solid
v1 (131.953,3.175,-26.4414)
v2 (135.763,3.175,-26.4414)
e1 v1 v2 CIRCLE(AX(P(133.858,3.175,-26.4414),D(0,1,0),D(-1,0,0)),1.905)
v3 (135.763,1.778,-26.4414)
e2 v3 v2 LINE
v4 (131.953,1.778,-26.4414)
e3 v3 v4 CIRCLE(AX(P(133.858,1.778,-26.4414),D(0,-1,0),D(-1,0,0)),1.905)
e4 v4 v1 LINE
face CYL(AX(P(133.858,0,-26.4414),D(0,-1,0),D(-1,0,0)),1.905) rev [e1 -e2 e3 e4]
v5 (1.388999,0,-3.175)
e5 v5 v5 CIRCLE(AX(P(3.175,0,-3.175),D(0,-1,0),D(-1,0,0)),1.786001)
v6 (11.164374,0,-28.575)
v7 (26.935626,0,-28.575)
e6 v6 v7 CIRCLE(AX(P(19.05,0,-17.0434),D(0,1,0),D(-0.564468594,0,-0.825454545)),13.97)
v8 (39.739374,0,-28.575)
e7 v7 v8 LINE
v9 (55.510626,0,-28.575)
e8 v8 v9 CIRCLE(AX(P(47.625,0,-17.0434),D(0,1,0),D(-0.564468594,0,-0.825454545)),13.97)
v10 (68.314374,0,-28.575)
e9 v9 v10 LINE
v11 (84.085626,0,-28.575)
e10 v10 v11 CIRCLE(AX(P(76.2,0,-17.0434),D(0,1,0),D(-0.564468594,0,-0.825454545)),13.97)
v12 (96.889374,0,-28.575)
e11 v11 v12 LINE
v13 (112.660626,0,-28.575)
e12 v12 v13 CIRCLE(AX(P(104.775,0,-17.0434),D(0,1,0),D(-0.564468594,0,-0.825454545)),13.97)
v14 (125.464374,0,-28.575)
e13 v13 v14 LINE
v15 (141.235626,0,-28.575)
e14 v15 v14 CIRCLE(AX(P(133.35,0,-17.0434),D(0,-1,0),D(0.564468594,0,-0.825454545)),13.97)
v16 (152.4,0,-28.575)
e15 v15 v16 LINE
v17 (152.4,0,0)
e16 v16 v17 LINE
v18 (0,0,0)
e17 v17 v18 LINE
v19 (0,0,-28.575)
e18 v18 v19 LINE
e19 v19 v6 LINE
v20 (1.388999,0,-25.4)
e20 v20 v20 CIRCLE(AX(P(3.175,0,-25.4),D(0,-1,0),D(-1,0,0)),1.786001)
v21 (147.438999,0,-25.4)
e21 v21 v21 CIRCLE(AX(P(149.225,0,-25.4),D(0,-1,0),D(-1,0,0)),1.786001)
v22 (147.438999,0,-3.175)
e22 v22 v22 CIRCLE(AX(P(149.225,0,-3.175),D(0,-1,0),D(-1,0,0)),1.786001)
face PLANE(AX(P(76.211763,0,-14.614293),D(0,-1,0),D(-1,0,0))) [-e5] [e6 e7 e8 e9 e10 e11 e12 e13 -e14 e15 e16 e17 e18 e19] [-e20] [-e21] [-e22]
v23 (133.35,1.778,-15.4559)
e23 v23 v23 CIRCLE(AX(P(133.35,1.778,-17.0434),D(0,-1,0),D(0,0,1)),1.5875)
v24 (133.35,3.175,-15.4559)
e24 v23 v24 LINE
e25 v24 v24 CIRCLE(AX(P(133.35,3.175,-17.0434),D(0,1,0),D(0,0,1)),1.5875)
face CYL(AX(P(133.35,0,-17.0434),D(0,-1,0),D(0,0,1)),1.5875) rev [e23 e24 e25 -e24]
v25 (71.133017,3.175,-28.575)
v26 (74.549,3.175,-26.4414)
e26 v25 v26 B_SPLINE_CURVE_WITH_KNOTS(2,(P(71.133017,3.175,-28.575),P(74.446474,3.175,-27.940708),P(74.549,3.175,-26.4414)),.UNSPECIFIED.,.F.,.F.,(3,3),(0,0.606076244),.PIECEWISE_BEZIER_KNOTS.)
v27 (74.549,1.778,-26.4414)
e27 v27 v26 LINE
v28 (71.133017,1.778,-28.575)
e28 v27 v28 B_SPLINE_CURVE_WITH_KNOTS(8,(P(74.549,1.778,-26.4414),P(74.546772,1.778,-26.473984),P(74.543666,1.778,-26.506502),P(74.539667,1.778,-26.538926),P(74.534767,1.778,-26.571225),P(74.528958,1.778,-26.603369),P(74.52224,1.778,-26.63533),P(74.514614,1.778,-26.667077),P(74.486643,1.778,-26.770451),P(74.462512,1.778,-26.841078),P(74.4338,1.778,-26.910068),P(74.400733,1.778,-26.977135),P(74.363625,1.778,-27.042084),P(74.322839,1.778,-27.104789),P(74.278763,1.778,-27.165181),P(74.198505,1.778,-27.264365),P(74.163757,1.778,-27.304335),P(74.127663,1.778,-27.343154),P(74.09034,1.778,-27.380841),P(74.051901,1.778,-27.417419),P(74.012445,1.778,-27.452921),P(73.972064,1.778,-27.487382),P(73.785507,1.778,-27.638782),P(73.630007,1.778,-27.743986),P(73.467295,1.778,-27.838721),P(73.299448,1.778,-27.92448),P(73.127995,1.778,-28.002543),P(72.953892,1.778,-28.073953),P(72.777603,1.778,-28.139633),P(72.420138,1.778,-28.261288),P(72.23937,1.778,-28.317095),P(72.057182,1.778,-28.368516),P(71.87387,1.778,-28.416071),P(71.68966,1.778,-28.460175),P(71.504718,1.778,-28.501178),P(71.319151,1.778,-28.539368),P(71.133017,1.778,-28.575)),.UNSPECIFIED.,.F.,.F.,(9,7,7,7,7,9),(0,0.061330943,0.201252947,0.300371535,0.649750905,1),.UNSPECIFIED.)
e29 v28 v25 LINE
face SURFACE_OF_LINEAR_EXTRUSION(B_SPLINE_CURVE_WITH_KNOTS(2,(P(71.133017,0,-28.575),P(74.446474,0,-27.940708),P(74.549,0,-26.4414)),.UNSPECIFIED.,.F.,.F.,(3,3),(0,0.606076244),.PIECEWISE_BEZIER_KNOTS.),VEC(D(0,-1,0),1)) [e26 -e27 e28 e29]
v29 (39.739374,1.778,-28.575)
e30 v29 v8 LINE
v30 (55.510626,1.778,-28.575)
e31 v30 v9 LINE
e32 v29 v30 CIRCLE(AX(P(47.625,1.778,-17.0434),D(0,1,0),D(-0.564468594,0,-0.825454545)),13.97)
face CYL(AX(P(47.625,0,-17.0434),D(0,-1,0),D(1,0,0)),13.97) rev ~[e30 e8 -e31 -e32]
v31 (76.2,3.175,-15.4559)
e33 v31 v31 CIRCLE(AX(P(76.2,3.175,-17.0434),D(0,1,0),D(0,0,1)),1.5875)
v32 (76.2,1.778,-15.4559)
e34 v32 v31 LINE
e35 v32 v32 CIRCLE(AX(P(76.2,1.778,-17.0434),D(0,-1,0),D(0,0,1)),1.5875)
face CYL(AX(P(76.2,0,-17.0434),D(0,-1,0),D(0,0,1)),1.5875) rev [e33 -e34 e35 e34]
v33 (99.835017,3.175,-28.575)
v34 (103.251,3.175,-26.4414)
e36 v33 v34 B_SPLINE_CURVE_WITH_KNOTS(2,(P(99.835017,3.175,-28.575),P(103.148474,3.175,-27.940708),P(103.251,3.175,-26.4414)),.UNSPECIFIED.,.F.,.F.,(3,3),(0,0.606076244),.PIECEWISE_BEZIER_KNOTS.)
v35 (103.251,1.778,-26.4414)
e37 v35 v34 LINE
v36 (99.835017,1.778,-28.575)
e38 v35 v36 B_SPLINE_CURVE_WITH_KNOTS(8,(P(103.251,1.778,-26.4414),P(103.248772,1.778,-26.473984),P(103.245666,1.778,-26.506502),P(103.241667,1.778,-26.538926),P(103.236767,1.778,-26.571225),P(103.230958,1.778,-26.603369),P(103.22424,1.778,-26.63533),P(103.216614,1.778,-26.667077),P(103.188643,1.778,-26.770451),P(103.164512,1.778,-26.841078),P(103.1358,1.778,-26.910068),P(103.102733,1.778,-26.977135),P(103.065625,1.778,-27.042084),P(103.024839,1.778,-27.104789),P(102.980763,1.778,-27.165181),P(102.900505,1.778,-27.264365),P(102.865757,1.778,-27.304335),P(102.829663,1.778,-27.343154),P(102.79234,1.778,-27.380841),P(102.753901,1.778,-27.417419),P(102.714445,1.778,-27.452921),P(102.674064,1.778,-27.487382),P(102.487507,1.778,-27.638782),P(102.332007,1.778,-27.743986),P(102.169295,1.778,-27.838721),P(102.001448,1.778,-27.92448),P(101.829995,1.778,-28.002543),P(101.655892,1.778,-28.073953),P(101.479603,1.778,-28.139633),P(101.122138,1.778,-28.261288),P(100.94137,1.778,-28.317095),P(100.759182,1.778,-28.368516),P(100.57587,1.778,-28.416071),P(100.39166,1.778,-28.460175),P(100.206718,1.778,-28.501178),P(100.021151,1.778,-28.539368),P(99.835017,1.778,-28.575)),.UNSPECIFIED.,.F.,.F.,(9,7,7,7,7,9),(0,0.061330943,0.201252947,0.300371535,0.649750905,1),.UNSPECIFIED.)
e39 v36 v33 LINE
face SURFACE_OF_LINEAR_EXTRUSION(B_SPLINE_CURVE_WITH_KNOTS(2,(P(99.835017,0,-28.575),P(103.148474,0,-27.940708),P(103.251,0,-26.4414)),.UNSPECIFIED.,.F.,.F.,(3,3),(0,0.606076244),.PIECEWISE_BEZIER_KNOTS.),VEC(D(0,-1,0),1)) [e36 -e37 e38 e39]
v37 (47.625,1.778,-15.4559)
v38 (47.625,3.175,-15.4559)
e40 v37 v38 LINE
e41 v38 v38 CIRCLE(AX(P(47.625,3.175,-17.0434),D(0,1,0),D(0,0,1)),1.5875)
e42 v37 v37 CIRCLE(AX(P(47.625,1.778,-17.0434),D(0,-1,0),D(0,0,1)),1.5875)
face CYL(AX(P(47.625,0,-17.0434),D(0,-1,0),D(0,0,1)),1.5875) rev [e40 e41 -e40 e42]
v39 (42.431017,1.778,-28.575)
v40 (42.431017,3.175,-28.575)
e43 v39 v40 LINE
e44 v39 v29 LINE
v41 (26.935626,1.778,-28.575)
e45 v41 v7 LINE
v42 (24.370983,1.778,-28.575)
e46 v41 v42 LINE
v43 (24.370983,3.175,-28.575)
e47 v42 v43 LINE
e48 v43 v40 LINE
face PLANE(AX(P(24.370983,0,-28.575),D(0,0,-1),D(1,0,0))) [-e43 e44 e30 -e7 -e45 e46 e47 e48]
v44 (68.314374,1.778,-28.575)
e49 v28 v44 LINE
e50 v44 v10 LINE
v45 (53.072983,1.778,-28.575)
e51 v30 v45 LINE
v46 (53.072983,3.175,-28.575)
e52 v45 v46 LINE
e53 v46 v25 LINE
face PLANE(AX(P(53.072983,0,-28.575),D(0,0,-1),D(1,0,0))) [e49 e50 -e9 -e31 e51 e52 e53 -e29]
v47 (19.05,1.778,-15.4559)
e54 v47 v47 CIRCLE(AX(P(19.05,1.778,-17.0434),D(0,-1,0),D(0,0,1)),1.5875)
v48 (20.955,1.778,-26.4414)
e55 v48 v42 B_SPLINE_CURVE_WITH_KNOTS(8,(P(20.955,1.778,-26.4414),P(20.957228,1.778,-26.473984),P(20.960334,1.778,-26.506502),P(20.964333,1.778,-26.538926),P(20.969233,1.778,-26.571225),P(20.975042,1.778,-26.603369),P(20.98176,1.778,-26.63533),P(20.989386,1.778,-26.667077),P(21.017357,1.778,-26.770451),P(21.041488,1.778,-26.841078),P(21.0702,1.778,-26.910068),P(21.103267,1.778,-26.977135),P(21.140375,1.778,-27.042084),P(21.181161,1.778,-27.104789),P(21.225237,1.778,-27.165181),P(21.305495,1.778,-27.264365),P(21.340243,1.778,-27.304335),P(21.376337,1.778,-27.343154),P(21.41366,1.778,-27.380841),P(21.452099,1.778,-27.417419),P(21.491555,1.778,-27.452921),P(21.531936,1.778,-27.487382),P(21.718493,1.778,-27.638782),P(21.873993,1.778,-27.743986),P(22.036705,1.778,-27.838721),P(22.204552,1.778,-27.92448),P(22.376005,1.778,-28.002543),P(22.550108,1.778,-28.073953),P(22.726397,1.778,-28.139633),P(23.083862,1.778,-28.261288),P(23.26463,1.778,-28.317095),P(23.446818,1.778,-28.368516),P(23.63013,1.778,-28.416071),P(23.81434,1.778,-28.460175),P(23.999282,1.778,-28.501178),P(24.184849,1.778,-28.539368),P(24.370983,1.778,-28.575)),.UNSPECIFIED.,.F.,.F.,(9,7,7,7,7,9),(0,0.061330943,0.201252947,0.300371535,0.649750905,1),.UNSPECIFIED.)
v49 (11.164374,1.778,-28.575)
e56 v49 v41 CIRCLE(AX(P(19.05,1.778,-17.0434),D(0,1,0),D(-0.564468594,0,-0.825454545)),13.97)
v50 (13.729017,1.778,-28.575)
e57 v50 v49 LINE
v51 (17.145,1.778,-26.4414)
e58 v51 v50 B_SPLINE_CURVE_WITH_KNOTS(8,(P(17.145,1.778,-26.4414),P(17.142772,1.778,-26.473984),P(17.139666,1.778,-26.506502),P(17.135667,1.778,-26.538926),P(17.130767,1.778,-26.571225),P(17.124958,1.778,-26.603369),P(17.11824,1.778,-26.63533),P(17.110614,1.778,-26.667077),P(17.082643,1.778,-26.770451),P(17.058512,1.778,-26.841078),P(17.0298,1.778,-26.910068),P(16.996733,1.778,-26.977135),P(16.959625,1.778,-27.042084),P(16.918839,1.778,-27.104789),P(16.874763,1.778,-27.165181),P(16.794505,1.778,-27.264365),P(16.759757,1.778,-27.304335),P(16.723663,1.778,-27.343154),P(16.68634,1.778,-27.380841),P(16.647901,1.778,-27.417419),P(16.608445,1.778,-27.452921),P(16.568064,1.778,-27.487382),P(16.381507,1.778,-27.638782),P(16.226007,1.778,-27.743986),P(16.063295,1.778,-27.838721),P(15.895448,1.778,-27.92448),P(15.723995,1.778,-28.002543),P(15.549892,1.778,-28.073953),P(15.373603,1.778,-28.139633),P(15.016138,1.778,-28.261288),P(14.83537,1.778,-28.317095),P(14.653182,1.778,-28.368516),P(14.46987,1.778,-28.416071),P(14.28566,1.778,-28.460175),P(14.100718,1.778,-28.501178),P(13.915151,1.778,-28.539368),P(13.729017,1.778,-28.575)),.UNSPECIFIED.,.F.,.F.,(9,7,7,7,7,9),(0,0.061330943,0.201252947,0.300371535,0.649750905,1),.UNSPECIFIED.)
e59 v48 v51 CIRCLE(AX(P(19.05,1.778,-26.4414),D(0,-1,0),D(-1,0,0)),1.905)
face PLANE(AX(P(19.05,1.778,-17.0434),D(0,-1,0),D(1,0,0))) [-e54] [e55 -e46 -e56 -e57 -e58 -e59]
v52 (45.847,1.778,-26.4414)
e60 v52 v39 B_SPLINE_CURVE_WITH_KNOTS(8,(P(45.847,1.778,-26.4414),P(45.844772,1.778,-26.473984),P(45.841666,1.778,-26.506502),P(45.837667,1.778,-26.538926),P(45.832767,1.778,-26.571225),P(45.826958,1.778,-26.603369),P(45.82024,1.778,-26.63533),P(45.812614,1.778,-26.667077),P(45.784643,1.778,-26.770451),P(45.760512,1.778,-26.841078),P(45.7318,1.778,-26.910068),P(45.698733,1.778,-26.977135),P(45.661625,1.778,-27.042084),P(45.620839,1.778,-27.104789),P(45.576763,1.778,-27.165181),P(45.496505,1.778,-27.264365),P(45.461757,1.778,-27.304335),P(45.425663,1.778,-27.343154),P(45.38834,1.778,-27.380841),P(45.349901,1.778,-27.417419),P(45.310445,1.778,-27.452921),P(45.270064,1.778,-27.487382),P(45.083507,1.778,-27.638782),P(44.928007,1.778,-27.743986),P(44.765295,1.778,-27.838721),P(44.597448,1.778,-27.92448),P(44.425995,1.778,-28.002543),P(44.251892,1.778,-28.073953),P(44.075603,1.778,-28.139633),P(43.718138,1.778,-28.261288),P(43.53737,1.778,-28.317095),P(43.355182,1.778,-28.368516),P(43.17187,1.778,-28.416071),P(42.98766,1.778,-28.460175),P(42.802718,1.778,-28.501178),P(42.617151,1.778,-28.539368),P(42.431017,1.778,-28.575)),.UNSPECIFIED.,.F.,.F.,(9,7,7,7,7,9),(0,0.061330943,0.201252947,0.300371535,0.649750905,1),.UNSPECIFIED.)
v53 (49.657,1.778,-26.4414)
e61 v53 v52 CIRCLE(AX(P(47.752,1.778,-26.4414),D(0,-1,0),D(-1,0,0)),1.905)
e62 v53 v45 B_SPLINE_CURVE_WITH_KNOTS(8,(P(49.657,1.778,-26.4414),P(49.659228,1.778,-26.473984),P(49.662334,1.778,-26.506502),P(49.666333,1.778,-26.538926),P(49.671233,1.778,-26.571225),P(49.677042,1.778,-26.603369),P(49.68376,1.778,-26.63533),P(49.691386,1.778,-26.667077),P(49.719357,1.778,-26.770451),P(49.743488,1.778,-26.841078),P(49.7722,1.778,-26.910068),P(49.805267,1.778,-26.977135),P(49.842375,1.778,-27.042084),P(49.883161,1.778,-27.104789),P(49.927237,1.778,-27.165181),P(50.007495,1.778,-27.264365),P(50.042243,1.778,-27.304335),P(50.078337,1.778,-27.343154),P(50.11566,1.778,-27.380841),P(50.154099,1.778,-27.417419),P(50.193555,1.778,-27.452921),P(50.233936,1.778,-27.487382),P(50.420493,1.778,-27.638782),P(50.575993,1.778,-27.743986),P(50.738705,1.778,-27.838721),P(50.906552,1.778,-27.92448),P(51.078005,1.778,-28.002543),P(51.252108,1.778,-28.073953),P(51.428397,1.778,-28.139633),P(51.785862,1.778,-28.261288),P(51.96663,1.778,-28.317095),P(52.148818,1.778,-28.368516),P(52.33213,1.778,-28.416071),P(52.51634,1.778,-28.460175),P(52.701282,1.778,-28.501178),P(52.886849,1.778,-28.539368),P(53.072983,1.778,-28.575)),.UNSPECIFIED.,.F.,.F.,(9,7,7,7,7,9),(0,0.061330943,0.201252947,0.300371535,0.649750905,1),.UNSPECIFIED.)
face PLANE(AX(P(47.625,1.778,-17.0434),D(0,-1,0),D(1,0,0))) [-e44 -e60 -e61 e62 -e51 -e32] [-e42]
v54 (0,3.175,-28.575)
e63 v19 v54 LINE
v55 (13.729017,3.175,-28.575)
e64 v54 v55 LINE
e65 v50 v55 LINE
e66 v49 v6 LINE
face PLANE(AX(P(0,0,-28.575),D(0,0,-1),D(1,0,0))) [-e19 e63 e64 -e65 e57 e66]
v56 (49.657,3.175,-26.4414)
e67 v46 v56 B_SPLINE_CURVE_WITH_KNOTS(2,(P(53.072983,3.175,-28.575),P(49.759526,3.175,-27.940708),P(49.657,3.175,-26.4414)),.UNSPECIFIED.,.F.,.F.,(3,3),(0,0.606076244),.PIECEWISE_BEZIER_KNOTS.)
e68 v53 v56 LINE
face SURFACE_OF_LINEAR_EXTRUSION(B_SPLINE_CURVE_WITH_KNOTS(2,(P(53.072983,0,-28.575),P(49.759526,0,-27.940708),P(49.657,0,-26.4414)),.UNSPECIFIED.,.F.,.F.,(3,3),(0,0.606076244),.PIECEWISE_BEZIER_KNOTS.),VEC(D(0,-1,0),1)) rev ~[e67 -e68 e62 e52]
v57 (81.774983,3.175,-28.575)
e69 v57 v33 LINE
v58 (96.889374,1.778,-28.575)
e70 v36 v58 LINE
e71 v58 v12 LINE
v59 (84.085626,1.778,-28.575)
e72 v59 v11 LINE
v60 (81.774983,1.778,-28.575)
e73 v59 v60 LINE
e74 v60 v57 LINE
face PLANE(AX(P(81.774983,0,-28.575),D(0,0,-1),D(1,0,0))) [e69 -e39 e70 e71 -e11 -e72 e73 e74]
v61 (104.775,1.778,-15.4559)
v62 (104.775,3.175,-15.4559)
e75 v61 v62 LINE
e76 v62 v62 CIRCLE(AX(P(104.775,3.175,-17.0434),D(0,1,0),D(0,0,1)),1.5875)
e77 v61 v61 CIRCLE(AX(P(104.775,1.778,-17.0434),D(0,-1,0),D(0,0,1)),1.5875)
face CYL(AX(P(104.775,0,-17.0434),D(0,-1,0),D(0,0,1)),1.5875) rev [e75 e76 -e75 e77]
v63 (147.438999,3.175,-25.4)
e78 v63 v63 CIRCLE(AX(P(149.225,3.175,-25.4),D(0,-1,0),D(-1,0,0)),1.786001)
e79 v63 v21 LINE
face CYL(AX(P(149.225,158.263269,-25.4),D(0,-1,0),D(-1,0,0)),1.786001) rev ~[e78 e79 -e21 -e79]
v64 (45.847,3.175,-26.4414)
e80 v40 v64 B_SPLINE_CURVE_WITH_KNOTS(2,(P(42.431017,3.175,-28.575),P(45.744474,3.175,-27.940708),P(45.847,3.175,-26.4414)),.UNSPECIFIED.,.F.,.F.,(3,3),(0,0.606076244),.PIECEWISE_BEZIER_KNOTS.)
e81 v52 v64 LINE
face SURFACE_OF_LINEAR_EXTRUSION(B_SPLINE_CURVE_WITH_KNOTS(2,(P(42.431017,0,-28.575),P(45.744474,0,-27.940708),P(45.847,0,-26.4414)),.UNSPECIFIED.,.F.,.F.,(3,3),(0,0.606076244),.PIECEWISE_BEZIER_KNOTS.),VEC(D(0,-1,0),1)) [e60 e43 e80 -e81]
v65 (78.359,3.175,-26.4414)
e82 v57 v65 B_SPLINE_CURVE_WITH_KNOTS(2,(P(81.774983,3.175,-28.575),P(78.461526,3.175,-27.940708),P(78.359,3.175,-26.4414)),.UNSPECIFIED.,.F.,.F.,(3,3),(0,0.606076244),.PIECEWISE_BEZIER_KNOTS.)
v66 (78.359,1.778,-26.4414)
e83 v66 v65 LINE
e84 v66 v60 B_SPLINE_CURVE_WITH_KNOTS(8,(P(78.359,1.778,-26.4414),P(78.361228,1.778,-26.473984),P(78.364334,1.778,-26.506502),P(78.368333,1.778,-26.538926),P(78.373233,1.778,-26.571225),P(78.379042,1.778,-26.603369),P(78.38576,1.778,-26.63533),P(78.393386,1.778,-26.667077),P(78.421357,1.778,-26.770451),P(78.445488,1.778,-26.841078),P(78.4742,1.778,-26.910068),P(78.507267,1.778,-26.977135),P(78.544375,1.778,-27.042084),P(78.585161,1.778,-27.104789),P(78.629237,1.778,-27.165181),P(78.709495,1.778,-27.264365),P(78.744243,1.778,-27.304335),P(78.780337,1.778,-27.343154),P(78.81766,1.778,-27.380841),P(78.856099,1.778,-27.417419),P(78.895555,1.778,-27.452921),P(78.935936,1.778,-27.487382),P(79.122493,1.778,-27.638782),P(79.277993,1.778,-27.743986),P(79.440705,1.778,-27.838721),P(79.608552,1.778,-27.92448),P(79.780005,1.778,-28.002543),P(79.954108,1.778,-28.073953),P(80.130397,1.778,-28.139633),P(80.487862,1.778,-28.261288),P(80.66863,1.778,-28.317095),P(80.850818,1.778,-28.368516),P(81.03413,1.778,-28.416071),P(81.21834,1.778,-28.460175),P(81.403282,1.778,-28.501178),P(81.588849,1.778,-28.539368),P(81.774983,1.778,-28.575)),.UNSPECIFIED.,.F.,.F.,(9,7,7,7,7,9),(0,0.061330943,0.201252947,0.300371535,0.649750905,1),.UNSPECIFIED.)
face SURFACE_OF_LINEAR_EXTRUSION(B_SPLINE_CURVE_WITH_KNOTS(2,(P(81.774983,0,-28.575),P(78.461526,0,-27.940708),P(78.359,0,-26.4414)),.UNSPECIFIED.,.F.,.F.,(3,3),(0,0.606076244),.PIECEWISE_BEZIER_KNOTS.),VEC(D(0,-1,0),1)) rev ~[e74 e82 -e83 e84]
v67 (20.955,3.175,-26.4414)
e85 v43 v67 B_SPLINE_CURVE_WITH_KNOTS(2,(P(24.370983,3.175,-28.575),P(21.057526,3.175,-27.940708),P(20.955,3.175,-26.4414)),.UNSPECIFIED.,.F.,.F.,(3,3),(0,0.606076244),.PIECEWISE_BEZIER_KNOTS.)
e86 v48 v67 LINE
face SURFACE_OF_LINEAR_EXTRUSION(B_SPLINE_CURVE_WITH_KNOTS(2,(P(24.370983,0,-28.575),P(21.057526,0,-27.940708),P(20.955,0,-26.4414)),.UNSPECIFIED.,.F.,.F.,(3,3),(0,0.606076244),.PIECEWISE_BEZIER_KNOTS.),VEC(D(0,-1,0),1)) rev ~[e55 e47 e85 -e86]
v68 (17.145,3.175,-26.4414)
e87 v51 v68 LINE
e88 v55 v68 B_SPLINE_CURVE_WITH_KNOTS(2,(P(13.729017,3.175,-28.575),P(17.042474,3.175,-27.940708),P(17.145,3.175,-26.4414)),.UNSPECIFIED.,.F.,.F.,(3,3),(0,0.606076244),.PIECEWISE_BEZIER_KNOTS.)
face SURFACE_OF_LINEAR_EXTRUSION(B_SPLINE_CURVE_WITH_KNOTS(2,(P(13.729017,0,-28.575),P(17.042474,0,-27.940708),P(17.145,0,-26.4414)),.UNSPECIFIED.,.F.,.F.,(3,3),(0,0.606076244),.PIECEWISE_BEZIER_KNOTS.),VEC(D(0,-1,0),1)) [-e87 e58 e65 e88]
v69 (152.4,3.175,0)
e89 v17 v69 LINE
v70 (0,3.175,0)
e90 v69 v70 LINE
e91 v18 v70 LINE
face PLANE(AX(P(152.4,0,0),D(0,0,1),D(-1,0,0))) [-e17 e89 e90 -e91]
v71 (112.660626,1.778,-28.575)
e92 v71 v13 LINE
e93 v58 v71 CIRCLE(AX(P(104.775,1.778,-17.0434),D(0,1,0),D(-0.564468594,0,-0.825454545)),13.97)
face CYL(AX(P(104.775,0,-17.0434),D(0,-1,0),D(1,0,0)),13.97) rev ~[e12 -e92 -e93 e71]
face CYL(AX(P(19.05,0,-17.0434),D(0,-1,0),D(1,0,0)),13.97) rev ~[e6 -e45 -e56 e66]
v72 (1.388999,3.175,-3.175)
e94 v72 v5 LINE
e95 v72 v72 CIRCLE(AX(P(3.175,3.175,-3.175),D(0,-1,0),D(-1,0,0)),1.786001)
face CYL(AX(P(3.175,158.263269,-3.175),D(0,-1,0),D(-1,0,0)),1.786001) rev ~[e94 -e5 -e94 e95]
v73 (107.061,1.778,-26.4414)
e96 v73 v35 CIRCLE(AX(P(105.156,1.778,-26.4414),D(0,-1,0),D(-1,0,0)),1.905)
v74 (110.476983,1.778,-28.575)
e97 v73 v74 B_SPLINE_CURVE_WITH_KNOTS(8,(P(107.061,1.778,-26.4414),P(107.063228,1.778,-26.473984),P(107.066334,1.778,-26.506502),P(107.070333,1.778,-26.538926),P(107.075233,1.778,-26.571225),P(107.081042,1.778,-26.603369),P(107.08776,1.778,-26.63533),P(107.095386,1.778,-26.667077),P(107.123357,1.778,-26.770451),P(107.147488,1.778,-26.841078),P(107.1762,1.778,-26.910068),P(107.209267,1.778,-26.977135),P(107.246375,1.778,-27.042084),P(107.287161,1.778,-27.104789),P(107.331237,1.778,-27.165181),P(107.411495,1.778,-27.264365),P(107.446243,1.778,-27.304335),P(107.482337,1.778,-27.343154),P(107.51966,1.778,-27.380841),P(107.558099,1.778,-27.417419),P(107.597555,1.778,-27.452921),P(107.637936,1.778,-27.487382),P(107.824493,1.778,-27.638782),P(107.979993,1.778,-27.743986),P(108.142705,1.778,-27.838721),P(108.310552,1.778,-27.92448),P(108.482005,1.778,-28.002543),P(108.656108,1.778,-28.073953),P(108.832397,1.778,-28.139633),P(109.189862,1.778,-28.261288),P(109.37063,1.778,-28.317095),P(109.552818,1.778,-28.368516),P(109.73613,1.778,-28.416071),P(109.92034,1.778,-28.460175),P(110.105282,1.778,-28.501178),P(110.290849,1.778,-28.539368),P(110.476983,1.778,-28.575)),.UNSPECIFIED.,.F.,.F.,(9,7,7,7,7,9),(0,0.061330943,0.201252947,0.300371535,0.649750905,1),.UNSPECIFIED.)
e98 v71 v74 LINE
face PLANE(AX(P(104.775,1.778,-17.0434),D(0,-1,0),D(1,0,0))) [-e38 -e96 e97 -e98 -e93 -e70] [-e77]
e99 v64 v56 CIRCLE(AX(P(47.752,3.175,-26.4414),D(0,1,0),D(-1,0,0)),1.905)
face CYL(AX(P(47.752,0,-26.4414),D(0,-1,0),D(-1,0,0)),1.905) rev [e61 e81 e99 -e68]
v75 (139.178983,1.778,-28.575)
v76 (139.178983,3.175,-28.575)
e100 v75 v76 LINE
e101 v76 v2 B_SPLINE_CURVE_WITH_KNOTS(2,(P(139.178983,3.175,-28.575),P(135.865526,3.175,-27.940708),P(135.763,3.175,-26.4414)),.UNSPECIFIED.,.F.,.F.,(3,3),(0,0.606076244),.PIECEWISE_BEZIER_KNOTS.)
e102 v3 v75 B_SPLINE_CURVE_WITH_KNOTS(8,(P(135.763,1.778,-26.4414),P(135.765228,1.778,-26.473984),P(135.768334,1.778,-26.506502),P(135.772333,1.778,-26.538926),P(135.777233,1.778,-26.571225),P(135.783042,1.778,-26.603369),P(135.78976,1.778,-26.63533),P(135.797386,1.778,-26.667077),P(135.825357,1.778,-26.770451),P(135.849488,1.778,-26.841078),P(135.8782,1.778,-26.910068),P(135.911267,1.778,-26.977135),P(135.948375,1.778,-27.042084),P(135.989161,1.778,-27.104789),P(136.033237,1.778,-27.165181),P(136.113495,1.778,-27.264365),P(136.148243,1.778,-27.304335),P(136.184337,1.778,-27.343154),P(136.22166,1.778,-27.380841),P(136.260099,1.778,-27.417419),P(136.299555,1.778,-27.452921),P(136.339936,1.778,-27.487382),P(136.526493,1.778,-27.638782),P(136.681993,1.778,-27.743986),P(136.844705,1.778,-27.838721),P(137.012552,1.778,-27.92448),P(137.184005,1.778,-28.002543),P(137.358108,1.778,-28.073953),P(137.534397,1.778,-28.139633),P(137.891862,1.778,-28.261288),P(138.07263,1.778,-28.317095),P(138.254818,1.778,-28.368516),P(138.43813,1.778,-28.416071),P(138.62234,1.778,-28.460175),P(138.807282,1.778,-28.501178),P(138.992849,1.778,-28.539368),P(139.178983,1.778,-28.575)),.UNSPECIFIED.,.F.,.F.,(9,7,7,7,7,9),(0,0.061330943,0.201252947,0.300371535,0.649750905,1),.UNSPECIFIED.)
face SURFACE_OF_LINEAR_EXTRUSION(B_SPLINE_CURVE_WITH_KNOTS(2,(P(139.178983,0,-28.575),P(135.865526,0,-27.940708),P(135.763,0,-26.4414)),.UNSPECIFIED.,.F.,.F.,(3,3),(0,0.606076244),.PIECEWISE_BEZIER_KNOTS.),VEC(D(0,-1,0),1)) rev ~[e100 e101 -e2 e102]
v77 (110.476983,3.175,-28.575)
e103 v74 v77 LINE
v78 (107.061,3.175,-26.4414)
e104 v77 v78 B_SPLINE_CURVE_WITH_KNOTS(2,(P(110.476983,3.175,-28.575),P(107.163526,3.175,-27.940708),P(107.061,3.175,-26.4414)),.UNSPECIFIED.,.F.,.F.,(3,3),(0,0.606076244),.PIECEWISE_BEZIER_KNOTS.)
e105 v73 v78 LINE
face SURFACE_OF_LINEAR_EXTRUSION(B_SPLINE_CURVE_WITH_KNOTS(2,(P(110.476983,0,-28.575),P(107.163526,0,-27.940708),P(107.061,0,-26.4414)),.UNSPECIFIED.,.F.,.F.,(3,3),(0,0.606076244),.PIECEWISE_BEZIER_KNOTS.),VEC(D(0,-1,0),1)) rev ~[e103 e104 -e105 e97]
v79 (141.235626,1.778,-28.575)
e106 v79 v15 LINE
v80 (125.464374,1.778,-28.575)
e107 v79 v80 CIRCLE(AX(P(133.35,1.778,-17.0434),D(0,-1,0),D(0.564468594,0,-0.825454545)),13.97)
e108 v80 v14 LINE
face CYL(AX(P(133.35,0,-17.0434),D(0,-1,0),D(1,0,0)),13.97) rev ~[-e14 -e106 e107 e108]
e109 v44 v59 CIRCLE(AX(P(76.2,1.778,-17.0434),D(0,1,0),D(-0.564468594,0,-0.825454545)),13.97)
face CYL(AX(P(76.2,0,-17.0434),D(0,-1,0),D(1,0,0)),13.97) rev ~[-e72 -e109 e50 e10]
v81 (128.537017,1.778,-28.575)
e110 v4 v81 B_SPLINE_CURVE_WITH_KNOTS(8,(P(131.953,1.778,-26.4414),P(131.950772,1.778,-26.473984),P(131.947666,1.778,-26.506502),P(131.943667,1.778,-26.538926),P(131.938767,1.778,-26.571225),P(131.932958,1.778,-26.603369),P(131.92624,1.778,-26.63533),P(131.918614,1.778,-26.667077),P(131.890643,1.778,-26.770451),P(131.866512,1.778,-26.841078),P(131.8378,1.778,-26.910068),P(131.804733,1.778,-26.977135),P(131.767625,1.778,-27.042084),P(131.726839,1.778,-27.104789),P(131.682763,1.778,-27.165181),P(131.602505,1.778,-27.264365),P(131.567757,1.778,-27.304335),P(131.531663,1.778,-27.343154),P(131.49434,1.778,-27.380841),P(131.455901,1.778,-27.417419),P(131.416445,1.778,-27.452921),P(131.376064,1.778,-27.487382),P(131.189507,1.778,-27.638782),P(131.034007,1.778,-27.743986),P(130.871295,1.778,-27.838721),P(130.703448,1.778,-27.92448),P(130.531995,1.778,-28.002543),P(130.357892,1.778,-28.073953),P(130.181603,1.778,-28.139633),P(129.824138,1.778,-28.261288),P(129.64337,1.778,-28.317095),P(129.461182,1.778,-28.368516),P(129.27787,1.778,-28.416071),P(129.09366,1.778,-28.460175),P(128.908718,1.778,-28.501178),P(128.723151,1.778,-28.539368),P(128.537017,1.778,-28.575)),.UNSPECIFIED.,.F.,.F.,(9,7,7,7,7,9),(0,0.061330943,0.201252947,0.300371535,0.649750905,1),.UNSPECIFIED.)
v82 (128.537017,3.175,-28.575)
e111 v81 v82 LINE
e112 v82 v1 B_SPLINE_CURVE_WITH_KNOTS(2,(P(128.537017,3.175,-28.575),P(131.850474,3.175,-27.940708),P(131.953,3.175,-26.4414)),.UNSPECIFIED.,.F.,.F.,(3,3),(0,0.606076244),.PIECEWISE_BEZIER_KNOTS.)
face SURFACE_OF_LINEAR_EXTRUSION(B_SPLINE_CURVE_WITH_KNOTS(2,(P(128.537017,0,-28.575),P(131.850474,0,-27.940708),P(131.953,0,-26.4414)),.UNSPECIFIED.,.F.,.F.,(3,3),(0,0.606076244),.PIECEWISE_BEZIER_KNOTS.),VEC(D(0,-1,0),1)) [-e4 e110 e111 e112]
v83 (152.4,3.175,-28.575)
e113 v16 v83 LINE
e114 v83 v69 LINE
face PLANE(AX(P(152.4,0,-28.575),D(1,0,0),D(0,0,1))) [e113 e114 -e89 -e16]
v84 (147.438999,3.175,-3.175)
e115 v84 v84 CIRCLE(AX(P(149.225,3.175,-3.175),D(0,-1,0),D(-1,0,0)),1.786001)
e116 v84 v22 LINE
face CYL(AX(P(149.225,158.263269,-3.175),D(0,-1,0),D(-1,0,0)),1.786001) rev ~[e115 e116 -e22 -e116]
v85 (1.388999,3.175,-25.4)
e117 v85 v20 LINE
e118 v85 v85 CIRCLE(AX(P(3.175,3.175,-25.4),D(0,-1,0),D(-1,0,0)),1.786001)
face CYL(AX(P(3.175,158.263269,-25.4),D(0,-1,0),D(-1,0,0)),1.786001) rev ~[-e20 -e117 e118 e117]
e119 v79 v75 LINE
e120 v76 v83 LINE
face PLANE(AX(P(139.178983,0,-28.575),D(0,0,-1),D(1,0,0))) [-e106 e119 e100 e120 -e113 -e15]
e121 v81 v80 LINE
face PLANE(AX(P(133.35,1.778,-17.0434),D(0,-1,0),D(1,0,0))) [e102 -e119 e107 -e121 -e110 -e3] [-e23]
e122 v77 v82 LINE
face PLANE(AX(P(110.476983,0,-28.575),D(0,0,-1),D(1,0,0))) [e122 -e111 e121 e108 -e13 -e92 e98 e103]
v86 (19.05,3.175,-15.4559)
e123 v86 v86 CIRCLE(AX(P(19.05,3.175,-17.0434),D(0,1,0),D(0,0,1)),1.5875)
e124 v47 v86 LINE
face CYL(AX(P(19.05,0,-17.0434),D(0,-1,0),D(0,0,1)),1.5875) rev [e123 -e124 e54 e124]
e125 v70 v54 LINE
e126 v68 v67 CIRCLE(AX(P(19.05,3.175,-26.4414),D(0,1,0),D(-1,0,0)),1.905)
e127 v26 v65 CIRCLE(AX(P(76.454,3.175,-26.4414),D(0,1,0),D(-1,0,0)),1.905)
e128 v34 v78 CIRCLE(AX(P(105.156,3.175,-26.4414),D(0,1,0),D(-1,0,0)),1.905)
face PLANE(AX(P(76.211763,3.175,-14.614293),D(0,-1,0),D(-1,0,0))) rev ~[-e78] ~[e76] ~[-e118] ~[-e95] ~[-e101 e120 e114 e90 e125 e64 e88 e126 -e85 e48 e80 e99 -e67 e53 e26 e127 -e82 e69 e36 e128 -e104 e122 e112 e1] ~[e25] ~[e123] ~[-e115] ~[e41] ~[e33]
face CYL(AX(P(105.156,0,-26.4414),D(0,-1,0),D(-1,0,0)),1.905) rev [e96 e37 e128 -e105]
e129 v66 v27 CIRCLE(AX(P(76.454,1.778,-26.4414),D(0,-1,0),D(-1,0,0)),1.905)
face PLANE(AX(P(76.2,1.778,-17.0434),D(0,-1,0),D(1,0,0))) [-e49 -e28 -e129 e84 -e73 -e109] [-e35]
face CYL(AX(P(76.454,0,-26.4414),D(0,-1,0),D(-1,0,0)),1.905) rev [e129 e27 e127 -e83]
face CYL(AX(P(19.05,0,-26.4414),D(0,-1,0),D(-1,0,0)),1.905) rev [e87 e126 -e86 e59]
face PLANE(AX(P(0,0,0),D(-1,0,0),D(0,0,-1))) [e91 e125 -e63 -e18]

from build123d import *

# Parameters (mm, degrees)
SKETCH1_R                       = 1.5875
BOSS_EXTRUDE1_DEPTH             = 3.175
SKETCH2_R                       = 13.97
CUT_EXTRUDE1_DEPTH              = 1.778
F_9_64_0_14063_DIAMETER_HOLE1_D = 3.572002


with BuildPart() as part:
    # Sketch1 → Boss-Extrude1 (new body)
    with BuildSketch(Plane(origin=(0, 0, 0), x_dir=(1, 0, 0), z_dir=(0, 1, 0))):
        with BuildLine():
            Line((139.17898319, 28.575), (152.4, 28.575))
            Line((152.4, 28.575), (152.4, 0))
            Line((152.4, 0), (0, 0))
            Line((0, 0), (0, 28.575))
            Line((0, 28.575), (13.72901681, 28.575))
            add(Edge.make_bspline(
                [(13.72901681, 28.575), (17.042474439, 27.940707838), (17.145, 26.4414)],
                knots=[0, 0, 0, 0.606076244, 0.606076244, 0.606076244], degree=2))
            ThreePointArc((17.145, 26.4414), (19.05, 24.5364), (20.955, 26.4414))
            add(Edge.make_bspline(
                [(24.37098319, 28.575), (21.057525561, 27.940707838), (20.955, 26.4414)],
                knots=[0, 0, 0, 0.606076244, 0.606076244, 0.606076244], degree=2))
            Line((24.37098319, 28.575), (42.43101681, 28.575))
            add(Edge.make_bspline(
                [(42.43101681, 28.575), (45.744474439, 27.940707838), (45.847, 26.4414)],
                knots=[0, 0, 0, 0.606076244, 0.606076244, 0.606076244], degree=2))
            ThreePointArc((45.847, 26.4414), (47.752, 24.5364), (49.657, 26.4414))
            add(Edge.make_bspline(
                [(53.07298319, 28.575), (49.759525561, 27.940707838), (49.657, 26.4414)],
                knots=[0, 0, 0, 0.606076244, 0.606076244, 0.606076244], degree=2))
            Line((53.07298319, 28.575), (71.13301681, 28.575))
            add(Edge.make_bspline(
                [(71.13301681, 28.575), (74.446474439, 27.940707838), (74.549, 26.4414)],
                knots=[0, 0, 0, 0.606076244, 0.606076244, 0.606076244], degree=2))
            ThreePointArc((74.549, 26.4414), (76.454, 24.5364), (78.359, 26.4414))
            add(Edge.make_bspline(
                [(81.77498319, 28.575), (78.461525561, 27.940707838), (78.359, 26.4414)],
                knots=[0, 0, 0, 0.606076244, 0.606076244, 0.606076244], degree=2))
            Line((81.77498319, 28.575), (99.83501681, 28.575))
            add(Edge.make_bspline(
                [(99.83501681, 28.575), (103.148474439, 27.940707838), (103.251, 26.4414)],
                knots=[0, 0, 0, 0.606076244, 0.606076244, 0.606076244], degree=2))
            ThreePointArc((103.251, 26.4414), (105.156, 24.5364), (107.061, 26.4414))
            add(Edge.make_bspline(
                [(110.47698319, 28.575), (107.163525561, 27.940707838), (107.061, 26.4414)],
                knots=[0, 0, 0, 0.606076244, 0.606076244, 0.606076244], degree=2))
            Line((110.47698319, 28.575), (128.53701681, 28.575))
            add(Edge.make_bspline(
                [(128.53701681, 28.575), (131.850474439, 27.940707838), (131.953, 26.4414)],
                knots=[0, 0, 0, 0.606076244, 0.606076244, 0.606076244], degree=2))
            ThreePointArc((131.953, 26.4414), (133.858, 24.5364), (135.763, 26.4414))
            add(Edge.make_bspline(
                [(139.17898319, 28.575), (135.865525561, 27.940707838), (135.763, 26.4414)],
                knots=[0, 0, 0, 0.606076244, 0.606076244, 0.606076244], degree=2))
        make_face()
        with Locations(Location((19.05, 17.0434, 0), (0, 0, 270))):
            Circle(SKETCH1_R, mode=Mode.SUBTRACT)
        with Locations(Location((47.625, 17.0434, 0), (0, 0, 270))):
            Circle(SKETCH1_R, mode=Mode.SUBTRACT)
        with Locations(Location((76.2, 17.0434, 0), (0, 0, 270))):
            Circle(SKETCH1_R, mode=Mode.SUBTRACT)
        with Locations(Location((104.775, 17.0434, 0), (0, 0, 270))):
            Circle(SKETCH1_R, mode=Mode.SUBTRACT)
        with Locations(Location((133.35, 17.0434, 0), (0, 0, 270))):
            Circle(SKETCH1_R, mode=Mode.SUBTRACT)
    extrude(amount=BOSS_EXTRUDE1_DEPTH)

    # Sketch2 → Cut-Extrude1 (cut)
    with BuildSketch(Plane.XZ):
        with Locations((19.05, -17.0434)):
            Circle(SKETCH2_R)
        with Locations((47.625, -17.0434)):
            Circle(SKETCH2_R)
        with Locations((76.2, -17.0434)):
            Circle(SKETCH2_R)
        with Locations((104.775, -17.0434)):
            Circle(SKETCH2_R)
        with Locations((133.35, -17.0434)):
            Circle(SKETCH2_R)
    extrude(amount=-CUT_EXTRUDE1_DEPTH, mode=Mode.SUBTRACT)

    # 9/64 (0.14063) Diameter Hole1 (through all)
    with Locations(Plane(origin=(0, 3.175, 0), x_dir=(1, 0, 0), z_dir=(0, 1, 0))):
        with Locations((3.175, 25.4), (3.175, 3.175), (149.225, 3.175), (149.225, 25.4)):
            Hole(F_9_64_0_14063_DIAMETER_HOLE1_D / 2)


solid = part.part
